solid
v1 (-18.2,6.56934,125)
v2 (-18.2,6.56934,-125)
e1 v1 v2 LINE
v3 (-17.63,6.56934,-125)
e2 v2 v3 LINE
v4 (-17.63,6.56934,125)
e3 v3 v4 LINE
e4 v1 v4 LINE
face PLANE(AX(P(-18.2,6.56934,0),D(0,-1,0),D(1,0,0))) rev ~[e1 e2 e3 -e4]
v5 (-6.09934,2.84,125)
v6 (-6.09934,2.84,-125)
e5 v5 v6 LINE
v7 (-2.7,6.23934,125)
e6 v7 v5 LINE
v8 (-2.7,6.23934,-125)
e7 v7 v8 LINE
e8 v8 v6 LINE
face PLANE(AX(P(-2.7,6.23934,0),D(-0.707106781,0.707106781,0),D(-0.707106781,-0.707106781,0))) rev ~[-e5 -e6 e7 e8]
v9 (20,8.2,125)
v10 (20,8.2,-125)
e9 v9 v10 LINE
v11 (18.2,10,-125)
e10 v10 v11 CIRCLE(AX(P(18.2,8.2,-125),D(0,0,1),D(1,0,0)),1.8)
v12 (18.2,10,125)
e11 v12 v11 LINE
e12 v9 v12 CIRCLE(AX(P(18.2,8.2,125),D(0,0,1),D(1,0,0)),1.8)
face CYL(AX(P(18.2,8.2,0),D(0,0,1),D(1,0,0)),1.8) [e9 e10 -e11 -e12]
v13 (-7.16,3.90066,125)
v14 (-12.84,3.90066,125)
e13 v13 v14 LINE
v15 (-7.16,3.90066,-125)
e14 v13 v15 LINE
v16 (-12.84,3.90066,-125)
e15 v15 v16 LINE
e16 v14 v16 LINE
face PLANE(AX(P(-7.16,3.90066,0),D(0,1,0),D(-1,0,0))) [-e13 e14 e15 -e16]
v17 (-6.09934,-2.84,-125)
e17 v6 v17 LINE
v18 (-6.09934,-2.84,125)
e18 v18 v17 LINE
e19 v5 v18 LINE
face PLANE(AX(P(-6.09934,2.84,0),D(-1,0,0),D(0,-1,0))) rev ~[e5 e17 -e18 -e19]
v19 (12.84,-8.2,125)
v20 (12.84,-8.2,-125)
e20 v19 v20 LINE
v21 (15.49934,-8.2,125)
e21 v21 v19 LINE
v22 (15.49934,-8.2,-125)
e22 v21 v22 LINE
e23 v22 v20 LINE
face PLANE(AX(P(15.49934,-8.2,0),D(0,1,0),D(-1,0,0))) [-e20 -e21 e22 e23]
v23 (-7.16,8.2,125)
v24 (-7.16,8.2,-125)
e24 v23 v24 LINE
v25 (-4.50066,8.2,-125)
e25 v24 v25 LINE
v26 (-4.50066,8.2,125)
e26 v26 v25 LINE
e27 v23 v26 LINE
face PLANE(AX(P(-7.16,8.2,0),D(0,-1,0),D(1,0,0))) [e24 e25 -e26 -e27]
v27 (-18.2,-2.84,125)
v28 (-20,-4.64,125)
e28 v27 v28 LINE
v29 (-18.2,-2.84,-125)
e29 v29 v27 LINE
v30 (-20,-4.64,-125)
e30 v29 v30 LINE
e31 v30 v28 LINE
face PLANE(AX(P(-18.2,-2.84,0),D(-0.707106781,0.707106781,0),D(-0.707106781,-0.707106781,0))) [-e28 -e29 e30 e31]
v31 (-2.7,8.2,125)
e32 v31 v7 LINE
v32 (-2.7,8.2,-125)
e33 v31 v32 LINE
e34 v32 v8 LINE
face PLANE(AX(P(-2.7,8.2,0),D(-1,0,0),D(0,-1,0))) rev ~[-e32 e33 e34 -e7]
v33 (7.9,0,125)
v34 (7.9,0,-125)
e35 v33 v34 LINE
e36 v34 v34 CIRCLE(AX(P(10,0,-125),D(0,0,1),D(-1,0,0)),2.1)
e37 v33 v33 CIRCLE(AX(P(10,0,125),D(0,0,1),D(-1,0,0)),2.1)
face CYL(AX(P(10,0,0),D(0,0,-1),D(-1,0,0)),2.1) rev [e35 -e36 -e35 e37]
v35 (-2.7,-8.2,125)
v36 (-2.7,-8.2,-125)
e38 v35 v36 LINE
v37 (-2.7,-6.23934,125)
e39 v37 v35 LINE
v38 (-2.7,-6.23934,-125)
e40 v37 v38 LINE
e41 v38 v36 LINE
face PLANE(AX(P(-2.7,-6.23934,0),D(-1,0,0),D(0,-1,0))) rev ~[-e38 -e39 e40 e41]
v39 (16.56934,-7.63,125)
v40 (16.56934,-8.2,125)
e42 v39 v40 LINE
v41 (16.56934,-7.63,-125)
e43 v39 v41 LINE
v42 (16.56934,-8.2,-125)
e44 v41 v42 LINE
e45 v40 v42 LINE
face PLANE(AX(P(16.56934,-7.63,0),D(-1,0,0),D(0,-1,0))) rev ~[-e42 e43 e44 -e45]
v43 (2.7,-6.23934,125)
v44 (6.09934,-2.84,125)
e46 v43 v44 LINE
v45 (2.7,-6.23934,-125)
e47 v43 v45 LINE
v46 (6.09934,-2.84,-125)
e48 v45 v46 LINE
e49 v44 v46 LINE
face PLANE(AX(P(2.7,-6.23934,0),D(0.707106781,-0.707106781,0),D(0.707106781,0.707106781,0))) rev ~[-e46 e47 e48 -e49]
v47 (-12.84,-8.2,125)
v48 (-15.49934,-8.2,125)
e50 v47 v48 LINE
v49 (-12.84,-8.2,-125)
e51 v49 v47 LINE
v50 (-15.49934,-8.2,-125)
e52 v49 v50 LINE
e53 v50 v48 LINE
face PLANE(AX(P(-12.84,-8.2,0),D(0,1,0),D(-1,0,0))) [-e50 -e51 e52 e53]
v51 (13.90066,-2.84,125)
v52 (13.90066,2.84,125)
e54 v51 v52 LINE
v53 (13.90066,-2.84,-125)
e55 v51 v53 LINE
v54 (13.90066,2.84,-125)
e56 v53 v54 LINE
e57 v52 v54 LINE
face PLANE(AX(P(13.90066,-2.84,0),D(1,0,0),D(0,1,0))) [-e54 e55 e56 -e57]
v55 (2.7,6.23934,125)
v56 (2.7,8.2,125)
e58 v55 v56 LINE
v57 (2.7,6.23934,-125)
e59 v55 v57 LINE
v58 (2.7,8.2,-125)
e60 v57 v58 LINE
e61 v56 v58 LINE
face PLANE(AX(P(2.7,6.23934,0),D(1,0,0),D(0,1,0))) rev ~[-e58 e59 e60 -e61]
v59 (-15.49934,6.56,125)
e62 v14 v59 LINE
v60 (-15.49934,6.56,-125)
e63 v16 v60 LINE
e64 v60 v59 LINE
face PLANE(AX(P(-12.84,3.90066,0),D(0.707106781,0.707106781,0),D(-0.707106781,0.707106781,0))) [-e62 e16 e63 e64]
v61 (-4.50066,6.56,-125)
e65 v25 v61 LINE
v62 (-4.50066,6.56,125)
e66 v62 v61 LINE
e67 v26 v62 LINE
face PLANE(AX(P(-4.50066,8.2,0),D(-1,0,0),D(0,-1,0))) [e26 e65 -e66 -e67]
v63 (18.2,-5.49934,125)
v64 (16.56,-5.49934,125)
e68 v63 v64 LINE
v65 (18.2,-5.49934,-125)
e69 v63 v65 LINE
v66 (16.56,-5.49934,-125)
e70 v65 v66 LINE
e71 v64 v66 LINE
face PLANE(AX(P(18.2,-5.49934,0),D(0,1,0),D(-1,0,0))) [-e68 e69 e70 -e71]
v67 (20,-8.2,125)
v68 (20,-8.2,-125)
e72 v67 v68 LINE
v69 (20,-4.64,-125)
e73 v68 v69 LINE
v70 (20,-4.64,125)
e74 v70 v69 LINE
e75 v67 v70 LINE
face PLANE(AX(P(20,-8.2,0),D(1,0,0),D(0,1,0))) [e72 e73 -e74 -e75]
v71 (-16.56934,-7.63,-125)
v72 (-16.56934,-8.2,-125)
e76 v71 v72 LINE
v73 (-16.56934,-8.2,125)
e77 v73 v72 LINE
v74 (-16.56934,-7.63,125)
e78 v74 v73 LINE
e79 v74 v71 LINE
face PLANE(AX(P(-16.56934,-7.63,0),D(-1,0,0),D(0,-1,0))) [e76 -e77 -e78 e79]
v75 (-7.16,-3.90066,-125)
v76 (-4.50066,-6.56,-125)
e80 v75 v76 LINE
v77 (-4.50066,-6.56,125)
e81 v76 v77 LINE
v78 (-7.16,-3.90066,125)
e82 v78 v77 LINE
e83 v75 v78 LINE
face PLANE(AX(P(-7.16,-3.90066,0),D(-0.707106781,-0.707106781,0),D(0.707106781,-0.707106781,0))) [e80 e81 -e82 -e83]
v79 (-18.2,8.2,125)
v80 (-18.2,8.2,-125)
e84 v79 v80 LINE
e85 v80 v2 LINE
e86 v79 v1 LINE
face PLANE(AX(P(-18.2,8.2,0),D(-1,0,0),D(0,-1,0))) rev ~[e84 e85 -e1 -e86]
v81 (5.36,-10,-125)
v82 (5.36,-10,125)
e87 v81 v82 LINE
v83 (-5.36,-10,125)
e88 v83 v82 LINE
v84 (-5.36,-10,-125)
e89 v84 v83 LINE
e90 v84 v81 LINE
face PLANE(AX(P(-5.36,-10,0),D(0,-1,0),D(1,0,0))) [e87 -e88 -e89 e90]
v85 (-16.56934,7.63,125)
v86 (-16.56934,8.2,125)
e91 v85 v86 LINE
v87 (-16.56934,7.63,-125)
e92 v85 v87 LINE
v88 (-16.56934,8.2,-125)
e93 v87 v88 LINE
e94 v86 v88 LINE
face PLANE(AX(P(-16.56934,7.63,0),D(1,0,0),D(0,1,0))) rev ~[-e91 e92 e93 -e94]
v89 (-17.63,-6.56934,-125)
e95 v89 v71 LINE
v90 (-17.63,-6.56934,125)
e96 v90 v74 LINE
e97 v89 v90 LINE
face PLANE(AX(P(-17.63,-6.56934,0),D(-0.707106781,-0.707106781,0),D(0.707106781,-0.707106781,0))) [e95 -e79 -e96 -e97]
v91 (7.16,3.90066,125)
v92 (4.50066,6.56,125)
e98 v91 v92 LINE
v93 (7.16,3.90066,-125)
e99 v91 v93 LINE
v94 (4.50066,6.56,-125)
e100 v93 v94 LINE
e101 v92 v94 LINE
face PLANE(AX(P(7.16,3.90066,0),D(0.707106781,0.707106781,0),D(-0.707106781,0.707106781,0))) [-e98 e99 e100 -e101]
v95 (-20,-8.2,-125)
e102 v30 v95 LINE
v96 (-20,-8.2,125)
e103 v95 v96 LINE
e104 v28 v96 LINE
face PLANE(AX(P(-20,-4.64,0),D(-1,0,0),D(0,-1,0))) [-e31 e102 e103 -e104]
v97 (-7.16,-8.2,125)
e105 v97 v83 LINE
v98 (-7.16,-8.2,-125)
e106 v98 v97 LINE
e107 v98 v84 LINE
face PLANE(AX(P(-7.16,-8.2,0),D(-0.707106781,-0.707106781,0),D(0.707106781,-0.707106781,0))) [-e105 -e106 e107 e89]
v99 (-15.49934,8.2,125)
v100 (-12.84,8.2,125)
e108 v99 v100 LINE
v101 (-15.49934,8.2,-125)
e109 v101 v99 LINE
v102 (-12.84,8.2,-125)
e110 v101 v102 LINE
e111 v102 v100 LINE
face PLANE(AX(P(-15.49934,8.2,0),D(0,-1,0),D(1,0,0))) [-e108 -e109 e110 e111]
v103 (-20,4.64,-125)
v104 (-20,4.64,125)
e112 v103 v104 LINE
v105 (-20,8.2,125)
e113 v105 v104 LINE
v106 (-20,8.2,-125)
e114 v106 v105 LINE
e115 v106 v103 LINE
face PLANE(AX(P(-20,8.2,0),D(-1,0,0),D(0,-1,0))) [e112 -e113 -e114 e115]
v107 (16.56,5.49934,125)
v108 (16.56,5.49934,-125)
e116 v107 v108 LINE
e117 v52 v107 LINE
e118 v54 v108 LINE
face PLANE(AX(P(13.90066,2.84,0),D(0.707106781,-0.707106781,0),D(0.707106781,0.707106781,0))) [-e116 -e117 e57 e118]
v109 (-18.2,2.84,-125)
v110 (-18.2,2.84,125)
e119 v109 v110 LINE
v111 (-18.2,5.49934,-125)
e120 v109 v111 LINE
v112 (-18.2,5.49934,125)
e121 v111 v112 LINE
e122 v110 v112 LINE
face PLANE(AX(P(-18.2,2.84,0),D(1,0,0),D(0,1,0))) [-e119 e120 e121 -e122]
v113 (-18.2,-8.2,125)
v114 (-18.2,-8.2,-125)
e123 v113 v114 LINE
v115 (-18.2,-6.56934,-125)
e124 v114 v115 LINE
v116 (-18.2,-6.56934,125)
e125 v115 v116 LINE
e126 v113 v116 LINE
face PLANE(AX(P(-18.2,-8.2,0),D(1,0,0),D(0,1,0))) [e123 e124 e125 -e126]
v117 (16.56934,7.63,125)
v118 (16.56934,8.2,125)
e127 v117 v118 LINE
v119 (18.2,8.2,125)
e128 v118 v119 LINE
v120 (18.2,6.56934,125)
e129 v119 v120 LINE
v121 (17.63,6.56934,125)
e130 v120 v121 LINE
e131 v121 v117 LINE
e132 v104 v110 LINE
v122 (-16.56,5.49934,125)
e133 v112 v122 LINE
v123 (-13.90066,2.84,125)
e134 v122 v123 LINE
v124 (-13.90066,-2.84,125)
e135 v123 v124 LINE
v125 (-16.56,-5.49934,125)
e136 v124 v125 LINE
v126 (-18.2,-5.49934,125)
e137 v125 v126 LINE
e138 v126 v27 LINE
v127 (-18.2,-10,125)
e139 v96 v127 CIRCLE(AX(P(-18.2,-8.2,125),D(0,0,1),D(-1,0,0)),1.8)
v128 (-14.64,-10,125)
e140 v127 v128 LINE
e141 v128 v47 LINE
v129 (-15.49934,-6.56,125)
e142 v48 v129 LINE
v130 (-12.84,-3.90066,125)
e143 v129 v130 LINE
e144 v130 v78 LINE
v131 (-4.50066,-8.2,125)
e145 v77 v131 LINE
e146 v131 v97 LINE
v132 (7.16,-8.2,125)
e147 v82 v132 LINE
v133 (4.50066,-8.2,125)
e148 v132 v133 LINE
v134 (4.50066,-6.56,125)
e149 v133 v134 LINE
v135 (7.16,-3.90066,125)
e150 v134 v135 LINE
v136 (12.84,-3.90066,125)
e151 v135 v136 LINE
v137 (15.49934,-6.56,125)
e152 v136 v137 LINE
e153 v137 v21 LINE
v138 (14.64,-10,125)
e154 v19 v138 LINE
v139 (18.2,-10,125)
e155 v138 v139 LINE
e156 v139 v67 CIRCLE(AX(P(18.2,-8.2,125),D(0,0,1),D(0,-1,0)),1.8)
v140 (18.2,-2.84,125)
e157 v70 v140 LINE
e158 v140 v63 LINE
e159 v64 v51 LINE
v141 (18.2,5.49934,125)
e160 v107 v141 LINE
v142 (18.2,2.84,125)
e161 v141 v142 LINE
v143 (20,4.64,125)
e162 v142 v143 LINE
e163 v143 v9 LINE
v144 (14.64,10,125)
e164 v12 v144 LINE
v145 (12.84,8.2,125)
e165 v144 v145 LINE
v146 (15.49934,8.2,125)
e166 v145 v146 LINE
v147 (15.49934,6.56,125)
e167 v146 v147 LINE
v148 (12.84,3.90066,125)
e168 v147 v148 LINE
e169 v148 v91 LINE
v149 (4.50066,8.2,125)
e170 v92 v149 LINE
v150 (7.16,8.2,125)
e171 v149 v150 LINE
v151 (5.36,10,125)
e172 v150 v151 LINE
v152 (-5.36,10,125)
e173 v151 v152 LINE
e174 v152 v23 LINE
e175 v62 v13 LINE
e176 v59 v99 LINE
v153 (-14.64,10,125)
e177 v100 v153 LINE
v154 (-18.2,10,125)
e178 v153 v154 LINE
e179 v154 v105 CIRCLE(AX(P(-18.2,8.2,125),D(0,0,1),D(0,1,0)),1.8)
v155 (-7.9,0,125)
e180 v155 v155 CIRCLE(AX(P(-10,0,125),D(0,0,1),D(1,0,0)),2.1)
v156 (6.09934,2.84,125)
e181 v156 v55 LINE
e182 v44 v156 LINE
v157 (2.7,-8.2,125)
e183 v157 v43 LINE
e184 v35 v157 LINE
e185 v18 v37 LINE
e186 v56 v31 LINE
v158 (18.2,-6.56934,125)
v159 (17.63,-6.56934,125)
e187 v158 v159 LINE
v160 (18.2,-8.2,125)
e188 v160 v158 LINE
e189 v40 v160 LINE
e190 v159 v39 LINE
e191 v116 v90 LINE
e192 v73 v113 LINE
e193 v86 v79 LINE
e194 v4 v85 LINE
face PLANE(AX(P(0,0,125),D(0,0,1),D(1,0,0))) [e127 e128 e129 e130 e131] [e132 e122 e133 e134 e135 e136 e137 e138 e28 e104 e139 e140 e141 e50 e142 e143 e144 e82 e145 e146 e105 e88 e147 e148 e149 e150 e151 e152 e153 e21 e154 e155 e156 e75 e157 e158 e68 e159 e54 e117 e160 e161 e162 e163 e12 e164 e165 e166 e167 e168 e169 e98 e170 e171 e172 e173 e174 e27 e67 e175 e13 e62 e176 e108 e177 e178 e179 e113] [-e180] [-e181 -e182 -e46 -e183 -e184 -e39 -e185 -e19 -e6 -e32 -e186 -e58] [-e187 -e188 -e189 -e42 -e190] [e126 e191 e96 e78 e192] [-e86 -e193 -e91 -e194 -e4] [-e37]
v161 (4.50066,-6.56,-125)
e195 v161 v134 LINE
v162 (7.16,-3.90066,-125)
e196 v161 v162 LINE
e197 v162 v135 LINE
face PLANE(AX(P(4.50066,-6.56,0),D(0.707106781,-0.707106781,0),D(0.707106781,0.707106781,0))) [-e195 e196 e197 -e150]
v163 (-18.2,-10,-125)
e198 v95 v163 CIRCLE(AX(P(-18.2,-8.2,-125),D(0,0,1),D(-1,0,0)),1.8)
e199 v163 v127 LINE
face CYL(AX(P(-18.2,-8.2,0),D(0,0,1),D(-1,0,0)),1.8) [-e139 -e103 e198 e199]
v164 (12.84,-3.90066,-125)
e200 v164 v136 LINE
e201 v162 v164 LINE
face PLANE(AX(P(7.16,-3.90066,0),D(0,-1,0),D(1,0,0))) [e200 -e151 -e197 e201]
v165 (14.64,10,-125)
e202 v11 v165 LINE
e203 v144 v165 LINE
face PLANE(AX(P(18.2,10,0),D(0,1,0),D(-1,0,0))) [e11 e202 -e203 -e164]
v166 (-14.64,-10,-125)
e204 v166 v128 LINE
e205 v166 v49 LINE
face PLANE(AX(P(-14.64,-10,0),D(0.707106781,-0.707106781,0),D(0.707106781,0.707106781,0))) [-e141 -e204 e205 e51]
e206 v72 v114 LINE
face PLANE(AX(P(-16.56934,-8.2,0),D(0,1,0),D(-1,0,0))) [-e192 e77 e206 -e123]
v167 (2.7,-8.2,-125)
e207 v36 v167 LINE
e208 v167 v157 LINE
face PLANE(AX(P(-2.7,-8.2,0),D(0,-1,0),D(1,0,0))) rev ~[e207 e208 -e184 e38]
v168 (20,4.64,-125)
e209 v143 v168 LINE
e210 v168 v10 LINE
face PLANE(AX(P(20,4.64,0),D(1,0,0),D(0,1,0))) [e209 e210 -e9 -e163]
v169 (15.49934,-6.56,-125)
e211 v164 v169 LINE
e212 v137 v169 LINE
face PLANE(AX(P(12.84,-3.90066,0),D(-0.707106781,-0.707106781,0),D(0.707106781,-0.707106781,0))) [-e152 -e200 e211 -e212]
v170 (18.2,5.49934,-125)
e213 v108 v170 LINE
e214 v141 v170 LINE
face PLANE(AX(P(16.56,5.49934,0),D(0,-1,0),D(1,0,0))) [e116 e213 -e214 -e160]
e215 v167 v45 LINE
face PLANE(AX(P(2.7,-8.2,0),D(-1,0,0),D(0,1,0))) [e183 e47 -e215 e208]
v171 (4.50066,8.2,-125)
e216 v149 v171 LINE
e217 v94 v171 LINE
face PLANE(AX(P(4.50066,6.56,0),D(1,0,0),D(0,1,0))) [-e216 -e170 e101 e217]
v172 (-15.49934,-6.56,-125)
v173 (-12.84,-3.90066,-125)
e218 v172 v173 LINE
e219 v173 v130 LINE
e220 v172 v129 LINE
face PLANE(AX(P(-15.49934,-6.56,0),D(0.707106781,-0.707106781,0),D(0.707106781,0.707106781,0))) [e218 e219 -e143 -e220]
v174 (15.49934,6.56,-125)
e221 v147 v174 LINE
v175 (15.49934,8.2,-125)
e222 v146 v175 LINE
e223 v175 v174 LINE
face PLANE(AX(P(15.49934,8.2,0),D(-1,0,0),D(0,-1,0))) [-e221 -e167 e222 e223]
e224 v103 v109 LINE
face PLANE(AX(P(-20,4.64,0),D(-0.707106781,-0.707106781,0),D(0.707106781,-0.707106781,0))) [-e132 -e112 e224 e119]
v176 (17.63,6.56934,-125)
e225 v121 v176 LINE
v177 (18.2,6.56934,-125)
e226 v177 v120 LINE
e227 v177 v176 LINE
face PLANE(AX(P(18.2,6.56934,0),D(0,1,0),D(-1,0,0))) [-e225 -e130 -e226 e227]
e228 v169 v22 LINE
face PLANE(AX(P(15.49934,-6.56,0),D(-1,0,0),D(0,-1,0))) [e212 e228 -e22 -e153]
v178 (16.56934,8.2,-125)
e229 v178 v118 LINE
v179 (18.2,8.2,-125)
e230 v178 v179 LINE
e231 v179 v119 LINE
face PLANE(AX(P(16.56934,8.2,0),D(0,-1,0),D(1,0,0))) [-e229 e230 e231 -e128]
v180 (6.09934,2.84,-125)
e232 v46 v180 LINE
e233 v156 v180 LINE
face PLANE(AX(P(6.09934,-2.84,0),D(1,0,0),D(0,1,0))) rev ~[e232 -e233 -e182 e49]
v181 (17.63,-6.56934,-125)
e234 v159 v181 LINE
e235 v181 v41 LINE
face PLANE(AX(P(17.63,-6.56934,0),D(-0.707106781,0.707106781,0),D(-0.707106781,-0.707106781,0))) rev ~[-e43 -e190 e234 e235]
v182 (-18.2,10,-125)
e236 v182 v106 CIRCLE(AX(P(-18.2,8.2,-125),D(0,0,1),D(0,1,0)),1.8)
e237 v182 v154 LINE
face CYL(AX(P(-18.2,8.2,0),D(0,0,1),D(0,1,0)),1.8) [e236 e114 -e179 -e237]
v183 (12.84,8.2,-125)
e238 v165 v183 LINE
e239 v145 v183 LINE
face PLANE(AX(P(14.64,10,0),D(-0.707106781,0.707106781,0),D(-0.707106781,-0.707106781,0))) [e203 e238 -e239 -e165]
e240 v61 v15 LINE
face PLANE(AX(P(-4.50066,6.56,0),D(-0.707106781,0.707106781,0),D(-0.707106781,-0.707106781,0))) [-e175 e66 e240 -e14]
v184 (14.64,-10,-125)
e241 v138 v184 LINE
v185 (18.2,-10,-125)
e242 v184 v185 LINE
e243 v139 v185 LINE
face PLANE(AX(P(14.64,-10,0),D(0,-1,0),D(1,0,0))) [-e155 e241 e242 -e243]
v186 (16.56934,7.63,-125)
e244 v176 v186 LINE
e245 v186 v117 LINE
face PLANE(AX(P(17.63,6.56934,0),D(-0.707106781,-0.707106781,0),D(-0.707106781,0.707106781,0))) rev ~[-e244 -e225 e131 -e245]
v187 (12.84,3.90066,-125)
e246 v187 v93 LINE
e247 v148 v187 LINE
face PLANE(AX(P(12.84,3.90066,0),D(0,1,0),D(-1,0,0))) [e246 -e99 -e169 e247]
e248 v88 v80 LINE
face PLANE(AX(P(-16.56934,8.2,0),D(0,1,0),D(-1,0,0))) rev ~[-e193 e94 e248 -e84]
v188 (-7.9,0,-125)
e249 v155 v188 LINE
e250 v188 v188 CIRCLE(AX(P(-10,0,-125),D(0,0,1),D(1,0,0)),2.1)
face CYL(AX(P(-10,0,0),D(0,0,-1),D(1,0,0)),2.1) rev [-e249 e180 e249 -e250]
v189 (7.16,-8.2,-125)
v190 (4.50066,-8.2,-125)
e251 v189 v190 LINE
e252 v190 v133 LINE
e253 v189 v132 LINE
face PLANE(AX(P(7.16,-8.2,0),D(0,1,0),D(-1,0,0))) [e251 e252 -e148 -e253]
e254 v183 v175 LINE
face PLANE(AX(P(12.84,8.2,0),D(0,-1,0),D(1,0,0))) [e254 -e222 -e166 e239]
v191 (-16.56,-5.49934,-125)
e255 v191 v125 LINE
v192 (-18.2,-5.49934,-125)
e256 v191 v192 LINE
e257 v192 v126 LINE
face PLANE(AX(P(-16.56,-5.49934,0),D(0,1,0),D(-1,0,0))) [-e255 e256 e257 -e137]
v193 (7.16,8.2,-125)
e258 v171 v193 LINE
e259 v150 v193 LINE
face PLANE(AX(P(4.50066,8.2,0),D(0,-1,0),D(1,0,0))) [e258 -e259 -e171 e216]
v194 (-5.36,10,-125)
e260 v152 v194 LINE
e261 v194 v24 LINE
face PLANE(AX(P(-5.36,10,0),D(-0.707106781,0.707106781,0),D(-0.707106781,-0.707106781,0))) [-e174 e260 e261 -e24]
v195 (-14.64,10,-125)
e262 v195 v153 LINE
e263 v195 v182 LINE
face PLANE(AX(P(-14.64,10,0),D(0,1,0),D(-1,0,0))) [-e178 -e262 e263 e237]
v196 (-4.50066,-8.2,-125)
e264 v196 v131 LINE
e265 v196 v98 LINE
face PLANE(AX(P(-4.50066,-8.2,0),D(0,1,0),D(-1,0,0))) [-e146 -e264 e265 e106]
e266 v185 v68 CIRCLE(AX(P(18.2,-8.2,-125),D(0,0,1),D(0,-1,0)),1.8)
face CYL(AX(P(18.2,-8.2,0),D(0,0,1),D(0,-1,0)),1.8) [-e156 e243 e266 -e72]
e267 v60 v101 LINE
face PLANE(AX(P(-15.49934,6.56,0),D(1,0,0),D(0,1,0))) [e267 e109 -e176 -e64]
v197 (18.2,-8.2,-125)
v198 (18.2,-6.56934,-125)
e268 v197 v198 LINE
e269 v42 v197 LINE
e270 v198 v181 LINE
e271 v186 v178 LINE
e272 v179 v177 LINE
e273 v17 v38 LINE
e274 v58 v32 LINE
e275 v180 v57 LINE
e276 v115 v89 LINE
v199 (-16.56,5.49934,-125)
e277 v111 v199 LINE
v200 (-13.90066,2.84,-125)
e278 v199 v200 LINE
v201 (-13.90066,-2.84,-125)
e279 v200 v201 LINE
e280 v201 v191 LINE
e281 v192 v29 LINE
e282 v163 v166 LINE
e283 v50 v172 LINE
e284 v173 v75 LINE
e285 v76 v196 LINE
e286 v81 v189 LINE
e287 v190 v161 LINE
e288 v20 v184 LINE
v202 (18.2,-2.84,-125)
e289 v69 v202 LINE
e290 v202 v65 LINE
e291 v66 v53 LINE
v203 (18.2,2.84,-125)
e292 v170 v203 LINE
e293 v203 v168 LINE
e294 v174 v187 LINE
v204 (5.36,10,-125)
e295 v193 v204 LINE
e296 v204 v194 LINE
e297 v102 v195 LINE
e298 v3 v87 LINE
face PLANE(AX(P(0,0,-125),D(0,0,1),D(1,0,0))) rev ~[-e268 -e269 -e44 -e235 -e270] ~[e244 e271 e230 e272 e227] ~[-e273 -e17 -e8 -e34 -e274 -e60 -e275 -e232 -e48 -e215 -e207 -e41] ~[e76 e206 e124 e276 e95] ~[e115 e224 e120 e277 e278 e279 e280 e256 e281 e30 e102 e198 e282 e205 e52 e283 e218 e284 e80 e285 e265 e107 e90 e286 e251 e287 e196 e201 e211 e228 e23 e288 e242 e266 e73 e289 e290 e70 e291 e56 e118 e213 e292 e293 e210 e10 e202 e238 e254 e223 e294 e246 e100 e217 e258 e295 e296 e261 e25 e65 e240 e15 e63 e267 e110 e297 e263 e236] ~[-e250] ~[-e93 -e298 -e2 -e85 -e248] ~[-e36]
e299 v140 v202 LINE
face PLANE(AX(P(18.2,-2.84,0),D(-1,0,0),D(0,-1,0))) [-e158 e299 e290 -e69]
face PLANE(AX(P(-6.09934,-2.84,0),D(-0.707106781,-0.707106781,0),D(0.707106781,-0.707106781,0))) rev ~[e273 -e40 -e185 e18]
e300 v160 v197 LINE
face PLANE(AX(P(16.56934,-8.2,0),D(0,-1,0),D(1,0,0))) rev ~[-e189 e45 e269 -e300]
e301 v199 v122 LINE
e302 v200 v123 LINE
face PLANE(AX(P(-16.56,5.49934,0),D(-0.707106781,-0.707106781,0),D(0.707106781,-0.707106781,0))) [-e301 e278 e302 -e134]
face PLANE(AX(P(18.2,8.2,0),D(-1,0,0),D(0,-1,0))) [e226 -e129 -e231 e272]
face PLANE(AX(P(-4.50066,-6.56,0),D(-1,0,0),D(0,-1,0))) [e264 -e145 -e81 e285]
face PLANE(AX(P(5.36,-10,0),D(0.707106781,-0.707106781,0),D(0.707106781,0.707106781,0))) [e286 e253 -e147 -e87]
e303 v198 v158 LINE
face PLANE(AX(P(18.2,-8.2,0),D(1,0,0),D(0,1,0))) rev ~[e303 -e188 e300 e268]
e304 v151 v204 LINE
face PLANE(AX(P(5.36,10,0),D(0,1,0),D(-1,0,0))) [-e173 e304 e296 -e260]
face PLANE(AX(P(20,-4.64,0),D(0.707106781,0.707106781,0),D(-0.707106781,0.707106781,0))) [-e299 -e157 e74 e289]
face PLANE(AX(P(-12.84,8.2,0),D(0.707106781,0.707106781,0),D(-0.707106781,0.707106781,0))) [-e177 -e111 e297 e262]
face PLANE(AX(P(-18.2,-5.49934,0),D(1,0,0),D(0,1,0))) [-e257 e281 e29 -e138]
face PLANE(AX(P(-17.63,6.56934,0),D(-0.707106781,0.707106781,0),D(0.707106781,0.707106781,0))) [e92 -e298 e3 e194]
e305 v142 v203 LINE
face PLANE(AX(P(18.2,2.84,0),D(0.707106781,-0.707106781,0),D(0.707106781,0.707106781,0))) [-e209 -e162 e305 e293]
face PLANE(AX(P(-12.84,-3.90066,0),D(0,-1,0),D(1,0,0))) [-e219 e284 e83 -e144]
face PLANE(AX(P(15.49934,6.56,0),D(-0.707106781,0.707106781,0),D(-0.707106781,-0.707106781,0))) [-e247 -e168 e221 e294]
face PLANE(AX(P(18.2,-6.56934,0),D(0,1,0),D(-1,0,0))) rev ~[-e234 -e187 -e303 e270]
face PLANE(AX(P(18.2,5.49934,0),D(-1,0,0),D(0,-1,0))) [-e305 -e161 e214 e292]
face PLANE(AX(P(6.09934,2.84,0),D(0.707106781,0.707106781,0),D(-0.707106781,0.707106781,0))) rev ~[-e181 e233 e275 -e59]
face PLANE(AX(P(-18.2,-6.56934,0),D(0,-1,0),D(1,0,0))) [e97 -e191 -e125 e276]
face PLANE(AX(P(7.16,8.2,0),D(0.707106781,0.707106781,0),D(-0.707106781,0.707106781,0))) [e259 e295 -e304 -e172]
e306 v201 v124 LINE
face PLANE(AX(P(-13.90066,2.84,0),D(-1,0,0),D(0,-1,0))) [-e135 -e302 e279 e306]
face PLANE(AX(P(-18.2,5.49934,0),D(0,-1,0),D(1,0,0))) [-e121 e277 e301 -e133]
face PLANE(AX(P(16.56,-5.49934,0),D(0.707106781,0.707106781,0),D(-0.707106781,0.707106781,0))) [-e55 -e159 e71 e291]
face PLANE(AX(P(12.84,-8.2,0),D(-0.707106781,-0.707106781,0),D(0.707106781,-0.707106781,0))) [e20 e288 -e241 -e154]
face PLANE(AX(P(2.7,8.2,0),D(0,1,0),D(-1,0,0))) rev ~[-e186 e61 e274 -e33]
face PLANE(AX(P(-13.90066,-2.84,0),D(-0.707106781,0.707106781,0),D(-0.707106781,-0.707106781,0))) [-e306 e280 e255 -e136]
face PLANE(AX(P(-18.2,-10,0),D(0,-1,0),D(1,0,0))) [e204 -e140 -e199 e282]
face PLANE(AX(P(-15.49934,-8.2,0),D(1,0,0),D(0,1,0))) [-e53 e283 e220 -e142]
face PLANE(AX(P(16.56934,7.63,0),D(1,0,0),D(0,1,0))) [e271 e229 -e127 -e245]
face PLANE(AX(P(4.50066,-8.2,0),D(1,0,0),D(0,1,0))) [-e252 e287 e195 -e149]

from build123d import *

# Parameters (mm, degrees)
ESQUISSE1_R        = 2.1
BOSS_EXTRU_1_DEPTH = 125


with BuildPart() as part:
    # Esquisse1 → Boss.-Extru.1 (new, symmetric)
    with BuildSketch(Plane.XY):
        with BuildLine():
            Line((-10, 3.900660172), (-12.84, 3.900660172))
            Line((-12.84, 3.900660172), (-15.499339828, 6.56))
            Line((-15.499339828, 6.56), (-15.499339828, 8.2))
            Line((-15.499339828, 8.2), (-12.84, 8.2))
            Line((-12.84, 8.2), (-14.64, 10))
            Line((-14.64, 10), (-18.2, 10))
            ThreePointArc((-18.2, 10), (-19.472792206, 9.472792206), (-20, 8.2))
            Line((-20, 8.2), (-20, 4.64))
            Line((-20, 4.64), (-18.2, 2.84))
            Line((-18.2, 2.84), (-18.2, 5.499339828))
            Line((-18.2, 5.499339828), (-16.56, 5.499339828))
            Line((-16.56, 5.499339828), (-13.900660172, 2.84))
            Line((-13.900660172, 2.84), (-13.900660172, 0))
            Line((-13.900660172, 0), (-13.900660172, -2.84))
            Line((-13.900660172, -2.84), (-16.56, -5.499339828))
            Line((-16.56, -5.499339828), (-18.2, -5.499339828))
            Line((-18.2, -5.499339828), (-18.2, -2.84))
            Line((-18.2, -2.84), (-20, -4.64))
            Line((-20, -4.64), (-20, -8.2))
            ThreePointArc((-20, -8.2), (-19.472792206, -9.472792206), (-18.2, -10))
            Line((-18.2, -10), (-14.64, -10))
            Line((-14.64, -10), (-12.84, -8.2))
            Line((-12.84, -8.2), (-15.499339828, -8.2))
            Line((-15.499339828, -8.2), (-15.499339828, -6.56))
            Line((-15.499339828, -6.56), (-12.84, -3.900660172))
            Line((-12.84, -3.900660172), (-10, -3.900660172))
            Line((-10, -3.900660172), (-7.16, -3.900660172))
            Line((-7.16, -3.900660172), (-4.500660172, -6.56))
            Line((-4.500660172, -6.56), (-4.500660172, -8.2))
            Line((-4.500660172, -8.2), (-7.16, -8.2))
            Line((-7.16, -8.2), (-5.36, -10))
            Line((-5.36, -10), (5.36, -10))
            Line((5.36, -10), (7.16, -8.2))
            Line((7.16, -8.2), (4.500660172, -8.2))
            Line((4.500660172, -8.2), (4.500660172, -6.56))
            Line((4.500660172, -6.56), (7.16, -3.900660172))
            Line((7.16, -3.900660172), (10, -3.900660172))
            Line((10, -3.900660172), (12.84, -3.900660172))
            Line((12.84, -3.900660172), (15.499339828, -6.56))
            Line((15.499339828, -6.56), (15.499339828, -8.2))
            Line((15.499339828, -8.2), (12.84, -8.2))
            Line((12.84, -8.2), (14.64, -10))
            Line((14.64, -10), (18.2, -10))
            ThreePointArc((18.2, -10), (19.472792206, -9.472792206), (20, -8.2))
            Line((20, -8.2), (20, -4.64))
            Line((20, -4.64), (18.2, -2.84))
            Line((18.2, -2.84), (18.2, -5.499339828))
            Line((18.2, -5.499339828), (16.56, -5.499339828))
            Line((16.56, -5.499339828), (13.900660172, -2.84))
            Line((13.900660172, -2.84), (13.900660172, 0))
            Line((13.900660172, 0), (13.900660172, 2.84))
            Line((13.900660172, 2.84), (16.56, 5.499339828))
            Line((16.56, 5.499339828), (18.2, 5.499339828))
            Line((18.2, 5.499339828), (18.2, 2.84))
            Line((18.2, 2.84), (20, 4.64))
            Line((20, 4.64), (20, 8.2))
            ThreePointArc((20, 8.2), (19.472792206, 9.472792206), (18.2, 10))
            Line((18.2, 10), (14.64, 10))
            Line((14.64, 10), (12.84, 8.2))
            Line((12.84, 8.2), (15.499339828, 8.2))
            Line((15.499339828, 8.2), (15.499339828, 6.56))
            Line((15.499339828, 6.56), (12.84, 3.900660172))
            Line((12.84, 3.900660172), (10, 3.900660172))
            Line((10, 3.900660172), (7.16, 3.900660172))
            Line((7.16, 3.900660172), (4.500660172, 6.56))
            Line((4.500660172, 6.56), (4.500660172, 8.2))
            Line((4.500660172, 8.2), (7.16, 8.2))
            Line((7.16, 8.2), (5.36, 10))
            Line((5.36, 10), (-5.36, 10))
            Line((-5.36, 10), (-7.16, 8.2))
            Line((-7.16, 8.2), (-4.500660172, 8.2))
            Line((-4.500660172, 8.2), (-4.500660172, 6.56))
            Line((-4.500660172, 6.56), (-7.16, 3.900660172))
            Line((-7.16, 3.900660172), (-10, 3.900660172))
        make_face()
        with Locations((-10, 0)):
            Circle(ESQUISSE1_R, mode=Mode.SUBTRACT)
        with Locations(Location((10, 0, 0), (0, 0, 180))):
            Circle(ESQUISSE1_R, mode=Mode.SUBTRACT)
        Polygon((-2.7, 8.2), (-2.7, 6.239339828), (-6.099339828, 2.84), (-6.099339828, -2.84), (-2.7, -6.239339828), (-2.7, -8.2), (2.7, -8.2), (2.7, -6.239339828), (6.099339828, -2.84), (6.099339828, 2.84), (2.7, 6.239339828), (2.7, 8.2), align=None, mode=Mode.SUBTRACT)
        Polygon((-18.2, 8.2), (-18.2, 6.569339828), (-17.63, 6.569339828), (-16.569339828, 7.63), (-16.569339828, 8.2), align=None, mode=Mode.SUBTRACT)
        Polygon((-18.2, -6.569339828), (-17.63, -6.569339828), (-16.569339828, -7.63), (-16.569339828, -8.2), (-18.2, -8.2), align=None, mode=Mode.SUBTRACT)
        Polygon((18.2, 6.569339828), (17.63, 6.569339828), (16.569339828, 7.63), (16.569339828, 8.2), (18.2, 8.2), align=None, mode=Mode.SUBTRACT)
        Polygon((18.2, -6.569339828), (17.63, -6.569339828), (16.569339828, -7.63), (16.569339828, -8.2), (18.2, -8.2), align=None, mode=Mode.SUBTRACT)
    extrude(amount=BOSS_EXTRU_1_DEPTH, both=True)


solid = part.part
